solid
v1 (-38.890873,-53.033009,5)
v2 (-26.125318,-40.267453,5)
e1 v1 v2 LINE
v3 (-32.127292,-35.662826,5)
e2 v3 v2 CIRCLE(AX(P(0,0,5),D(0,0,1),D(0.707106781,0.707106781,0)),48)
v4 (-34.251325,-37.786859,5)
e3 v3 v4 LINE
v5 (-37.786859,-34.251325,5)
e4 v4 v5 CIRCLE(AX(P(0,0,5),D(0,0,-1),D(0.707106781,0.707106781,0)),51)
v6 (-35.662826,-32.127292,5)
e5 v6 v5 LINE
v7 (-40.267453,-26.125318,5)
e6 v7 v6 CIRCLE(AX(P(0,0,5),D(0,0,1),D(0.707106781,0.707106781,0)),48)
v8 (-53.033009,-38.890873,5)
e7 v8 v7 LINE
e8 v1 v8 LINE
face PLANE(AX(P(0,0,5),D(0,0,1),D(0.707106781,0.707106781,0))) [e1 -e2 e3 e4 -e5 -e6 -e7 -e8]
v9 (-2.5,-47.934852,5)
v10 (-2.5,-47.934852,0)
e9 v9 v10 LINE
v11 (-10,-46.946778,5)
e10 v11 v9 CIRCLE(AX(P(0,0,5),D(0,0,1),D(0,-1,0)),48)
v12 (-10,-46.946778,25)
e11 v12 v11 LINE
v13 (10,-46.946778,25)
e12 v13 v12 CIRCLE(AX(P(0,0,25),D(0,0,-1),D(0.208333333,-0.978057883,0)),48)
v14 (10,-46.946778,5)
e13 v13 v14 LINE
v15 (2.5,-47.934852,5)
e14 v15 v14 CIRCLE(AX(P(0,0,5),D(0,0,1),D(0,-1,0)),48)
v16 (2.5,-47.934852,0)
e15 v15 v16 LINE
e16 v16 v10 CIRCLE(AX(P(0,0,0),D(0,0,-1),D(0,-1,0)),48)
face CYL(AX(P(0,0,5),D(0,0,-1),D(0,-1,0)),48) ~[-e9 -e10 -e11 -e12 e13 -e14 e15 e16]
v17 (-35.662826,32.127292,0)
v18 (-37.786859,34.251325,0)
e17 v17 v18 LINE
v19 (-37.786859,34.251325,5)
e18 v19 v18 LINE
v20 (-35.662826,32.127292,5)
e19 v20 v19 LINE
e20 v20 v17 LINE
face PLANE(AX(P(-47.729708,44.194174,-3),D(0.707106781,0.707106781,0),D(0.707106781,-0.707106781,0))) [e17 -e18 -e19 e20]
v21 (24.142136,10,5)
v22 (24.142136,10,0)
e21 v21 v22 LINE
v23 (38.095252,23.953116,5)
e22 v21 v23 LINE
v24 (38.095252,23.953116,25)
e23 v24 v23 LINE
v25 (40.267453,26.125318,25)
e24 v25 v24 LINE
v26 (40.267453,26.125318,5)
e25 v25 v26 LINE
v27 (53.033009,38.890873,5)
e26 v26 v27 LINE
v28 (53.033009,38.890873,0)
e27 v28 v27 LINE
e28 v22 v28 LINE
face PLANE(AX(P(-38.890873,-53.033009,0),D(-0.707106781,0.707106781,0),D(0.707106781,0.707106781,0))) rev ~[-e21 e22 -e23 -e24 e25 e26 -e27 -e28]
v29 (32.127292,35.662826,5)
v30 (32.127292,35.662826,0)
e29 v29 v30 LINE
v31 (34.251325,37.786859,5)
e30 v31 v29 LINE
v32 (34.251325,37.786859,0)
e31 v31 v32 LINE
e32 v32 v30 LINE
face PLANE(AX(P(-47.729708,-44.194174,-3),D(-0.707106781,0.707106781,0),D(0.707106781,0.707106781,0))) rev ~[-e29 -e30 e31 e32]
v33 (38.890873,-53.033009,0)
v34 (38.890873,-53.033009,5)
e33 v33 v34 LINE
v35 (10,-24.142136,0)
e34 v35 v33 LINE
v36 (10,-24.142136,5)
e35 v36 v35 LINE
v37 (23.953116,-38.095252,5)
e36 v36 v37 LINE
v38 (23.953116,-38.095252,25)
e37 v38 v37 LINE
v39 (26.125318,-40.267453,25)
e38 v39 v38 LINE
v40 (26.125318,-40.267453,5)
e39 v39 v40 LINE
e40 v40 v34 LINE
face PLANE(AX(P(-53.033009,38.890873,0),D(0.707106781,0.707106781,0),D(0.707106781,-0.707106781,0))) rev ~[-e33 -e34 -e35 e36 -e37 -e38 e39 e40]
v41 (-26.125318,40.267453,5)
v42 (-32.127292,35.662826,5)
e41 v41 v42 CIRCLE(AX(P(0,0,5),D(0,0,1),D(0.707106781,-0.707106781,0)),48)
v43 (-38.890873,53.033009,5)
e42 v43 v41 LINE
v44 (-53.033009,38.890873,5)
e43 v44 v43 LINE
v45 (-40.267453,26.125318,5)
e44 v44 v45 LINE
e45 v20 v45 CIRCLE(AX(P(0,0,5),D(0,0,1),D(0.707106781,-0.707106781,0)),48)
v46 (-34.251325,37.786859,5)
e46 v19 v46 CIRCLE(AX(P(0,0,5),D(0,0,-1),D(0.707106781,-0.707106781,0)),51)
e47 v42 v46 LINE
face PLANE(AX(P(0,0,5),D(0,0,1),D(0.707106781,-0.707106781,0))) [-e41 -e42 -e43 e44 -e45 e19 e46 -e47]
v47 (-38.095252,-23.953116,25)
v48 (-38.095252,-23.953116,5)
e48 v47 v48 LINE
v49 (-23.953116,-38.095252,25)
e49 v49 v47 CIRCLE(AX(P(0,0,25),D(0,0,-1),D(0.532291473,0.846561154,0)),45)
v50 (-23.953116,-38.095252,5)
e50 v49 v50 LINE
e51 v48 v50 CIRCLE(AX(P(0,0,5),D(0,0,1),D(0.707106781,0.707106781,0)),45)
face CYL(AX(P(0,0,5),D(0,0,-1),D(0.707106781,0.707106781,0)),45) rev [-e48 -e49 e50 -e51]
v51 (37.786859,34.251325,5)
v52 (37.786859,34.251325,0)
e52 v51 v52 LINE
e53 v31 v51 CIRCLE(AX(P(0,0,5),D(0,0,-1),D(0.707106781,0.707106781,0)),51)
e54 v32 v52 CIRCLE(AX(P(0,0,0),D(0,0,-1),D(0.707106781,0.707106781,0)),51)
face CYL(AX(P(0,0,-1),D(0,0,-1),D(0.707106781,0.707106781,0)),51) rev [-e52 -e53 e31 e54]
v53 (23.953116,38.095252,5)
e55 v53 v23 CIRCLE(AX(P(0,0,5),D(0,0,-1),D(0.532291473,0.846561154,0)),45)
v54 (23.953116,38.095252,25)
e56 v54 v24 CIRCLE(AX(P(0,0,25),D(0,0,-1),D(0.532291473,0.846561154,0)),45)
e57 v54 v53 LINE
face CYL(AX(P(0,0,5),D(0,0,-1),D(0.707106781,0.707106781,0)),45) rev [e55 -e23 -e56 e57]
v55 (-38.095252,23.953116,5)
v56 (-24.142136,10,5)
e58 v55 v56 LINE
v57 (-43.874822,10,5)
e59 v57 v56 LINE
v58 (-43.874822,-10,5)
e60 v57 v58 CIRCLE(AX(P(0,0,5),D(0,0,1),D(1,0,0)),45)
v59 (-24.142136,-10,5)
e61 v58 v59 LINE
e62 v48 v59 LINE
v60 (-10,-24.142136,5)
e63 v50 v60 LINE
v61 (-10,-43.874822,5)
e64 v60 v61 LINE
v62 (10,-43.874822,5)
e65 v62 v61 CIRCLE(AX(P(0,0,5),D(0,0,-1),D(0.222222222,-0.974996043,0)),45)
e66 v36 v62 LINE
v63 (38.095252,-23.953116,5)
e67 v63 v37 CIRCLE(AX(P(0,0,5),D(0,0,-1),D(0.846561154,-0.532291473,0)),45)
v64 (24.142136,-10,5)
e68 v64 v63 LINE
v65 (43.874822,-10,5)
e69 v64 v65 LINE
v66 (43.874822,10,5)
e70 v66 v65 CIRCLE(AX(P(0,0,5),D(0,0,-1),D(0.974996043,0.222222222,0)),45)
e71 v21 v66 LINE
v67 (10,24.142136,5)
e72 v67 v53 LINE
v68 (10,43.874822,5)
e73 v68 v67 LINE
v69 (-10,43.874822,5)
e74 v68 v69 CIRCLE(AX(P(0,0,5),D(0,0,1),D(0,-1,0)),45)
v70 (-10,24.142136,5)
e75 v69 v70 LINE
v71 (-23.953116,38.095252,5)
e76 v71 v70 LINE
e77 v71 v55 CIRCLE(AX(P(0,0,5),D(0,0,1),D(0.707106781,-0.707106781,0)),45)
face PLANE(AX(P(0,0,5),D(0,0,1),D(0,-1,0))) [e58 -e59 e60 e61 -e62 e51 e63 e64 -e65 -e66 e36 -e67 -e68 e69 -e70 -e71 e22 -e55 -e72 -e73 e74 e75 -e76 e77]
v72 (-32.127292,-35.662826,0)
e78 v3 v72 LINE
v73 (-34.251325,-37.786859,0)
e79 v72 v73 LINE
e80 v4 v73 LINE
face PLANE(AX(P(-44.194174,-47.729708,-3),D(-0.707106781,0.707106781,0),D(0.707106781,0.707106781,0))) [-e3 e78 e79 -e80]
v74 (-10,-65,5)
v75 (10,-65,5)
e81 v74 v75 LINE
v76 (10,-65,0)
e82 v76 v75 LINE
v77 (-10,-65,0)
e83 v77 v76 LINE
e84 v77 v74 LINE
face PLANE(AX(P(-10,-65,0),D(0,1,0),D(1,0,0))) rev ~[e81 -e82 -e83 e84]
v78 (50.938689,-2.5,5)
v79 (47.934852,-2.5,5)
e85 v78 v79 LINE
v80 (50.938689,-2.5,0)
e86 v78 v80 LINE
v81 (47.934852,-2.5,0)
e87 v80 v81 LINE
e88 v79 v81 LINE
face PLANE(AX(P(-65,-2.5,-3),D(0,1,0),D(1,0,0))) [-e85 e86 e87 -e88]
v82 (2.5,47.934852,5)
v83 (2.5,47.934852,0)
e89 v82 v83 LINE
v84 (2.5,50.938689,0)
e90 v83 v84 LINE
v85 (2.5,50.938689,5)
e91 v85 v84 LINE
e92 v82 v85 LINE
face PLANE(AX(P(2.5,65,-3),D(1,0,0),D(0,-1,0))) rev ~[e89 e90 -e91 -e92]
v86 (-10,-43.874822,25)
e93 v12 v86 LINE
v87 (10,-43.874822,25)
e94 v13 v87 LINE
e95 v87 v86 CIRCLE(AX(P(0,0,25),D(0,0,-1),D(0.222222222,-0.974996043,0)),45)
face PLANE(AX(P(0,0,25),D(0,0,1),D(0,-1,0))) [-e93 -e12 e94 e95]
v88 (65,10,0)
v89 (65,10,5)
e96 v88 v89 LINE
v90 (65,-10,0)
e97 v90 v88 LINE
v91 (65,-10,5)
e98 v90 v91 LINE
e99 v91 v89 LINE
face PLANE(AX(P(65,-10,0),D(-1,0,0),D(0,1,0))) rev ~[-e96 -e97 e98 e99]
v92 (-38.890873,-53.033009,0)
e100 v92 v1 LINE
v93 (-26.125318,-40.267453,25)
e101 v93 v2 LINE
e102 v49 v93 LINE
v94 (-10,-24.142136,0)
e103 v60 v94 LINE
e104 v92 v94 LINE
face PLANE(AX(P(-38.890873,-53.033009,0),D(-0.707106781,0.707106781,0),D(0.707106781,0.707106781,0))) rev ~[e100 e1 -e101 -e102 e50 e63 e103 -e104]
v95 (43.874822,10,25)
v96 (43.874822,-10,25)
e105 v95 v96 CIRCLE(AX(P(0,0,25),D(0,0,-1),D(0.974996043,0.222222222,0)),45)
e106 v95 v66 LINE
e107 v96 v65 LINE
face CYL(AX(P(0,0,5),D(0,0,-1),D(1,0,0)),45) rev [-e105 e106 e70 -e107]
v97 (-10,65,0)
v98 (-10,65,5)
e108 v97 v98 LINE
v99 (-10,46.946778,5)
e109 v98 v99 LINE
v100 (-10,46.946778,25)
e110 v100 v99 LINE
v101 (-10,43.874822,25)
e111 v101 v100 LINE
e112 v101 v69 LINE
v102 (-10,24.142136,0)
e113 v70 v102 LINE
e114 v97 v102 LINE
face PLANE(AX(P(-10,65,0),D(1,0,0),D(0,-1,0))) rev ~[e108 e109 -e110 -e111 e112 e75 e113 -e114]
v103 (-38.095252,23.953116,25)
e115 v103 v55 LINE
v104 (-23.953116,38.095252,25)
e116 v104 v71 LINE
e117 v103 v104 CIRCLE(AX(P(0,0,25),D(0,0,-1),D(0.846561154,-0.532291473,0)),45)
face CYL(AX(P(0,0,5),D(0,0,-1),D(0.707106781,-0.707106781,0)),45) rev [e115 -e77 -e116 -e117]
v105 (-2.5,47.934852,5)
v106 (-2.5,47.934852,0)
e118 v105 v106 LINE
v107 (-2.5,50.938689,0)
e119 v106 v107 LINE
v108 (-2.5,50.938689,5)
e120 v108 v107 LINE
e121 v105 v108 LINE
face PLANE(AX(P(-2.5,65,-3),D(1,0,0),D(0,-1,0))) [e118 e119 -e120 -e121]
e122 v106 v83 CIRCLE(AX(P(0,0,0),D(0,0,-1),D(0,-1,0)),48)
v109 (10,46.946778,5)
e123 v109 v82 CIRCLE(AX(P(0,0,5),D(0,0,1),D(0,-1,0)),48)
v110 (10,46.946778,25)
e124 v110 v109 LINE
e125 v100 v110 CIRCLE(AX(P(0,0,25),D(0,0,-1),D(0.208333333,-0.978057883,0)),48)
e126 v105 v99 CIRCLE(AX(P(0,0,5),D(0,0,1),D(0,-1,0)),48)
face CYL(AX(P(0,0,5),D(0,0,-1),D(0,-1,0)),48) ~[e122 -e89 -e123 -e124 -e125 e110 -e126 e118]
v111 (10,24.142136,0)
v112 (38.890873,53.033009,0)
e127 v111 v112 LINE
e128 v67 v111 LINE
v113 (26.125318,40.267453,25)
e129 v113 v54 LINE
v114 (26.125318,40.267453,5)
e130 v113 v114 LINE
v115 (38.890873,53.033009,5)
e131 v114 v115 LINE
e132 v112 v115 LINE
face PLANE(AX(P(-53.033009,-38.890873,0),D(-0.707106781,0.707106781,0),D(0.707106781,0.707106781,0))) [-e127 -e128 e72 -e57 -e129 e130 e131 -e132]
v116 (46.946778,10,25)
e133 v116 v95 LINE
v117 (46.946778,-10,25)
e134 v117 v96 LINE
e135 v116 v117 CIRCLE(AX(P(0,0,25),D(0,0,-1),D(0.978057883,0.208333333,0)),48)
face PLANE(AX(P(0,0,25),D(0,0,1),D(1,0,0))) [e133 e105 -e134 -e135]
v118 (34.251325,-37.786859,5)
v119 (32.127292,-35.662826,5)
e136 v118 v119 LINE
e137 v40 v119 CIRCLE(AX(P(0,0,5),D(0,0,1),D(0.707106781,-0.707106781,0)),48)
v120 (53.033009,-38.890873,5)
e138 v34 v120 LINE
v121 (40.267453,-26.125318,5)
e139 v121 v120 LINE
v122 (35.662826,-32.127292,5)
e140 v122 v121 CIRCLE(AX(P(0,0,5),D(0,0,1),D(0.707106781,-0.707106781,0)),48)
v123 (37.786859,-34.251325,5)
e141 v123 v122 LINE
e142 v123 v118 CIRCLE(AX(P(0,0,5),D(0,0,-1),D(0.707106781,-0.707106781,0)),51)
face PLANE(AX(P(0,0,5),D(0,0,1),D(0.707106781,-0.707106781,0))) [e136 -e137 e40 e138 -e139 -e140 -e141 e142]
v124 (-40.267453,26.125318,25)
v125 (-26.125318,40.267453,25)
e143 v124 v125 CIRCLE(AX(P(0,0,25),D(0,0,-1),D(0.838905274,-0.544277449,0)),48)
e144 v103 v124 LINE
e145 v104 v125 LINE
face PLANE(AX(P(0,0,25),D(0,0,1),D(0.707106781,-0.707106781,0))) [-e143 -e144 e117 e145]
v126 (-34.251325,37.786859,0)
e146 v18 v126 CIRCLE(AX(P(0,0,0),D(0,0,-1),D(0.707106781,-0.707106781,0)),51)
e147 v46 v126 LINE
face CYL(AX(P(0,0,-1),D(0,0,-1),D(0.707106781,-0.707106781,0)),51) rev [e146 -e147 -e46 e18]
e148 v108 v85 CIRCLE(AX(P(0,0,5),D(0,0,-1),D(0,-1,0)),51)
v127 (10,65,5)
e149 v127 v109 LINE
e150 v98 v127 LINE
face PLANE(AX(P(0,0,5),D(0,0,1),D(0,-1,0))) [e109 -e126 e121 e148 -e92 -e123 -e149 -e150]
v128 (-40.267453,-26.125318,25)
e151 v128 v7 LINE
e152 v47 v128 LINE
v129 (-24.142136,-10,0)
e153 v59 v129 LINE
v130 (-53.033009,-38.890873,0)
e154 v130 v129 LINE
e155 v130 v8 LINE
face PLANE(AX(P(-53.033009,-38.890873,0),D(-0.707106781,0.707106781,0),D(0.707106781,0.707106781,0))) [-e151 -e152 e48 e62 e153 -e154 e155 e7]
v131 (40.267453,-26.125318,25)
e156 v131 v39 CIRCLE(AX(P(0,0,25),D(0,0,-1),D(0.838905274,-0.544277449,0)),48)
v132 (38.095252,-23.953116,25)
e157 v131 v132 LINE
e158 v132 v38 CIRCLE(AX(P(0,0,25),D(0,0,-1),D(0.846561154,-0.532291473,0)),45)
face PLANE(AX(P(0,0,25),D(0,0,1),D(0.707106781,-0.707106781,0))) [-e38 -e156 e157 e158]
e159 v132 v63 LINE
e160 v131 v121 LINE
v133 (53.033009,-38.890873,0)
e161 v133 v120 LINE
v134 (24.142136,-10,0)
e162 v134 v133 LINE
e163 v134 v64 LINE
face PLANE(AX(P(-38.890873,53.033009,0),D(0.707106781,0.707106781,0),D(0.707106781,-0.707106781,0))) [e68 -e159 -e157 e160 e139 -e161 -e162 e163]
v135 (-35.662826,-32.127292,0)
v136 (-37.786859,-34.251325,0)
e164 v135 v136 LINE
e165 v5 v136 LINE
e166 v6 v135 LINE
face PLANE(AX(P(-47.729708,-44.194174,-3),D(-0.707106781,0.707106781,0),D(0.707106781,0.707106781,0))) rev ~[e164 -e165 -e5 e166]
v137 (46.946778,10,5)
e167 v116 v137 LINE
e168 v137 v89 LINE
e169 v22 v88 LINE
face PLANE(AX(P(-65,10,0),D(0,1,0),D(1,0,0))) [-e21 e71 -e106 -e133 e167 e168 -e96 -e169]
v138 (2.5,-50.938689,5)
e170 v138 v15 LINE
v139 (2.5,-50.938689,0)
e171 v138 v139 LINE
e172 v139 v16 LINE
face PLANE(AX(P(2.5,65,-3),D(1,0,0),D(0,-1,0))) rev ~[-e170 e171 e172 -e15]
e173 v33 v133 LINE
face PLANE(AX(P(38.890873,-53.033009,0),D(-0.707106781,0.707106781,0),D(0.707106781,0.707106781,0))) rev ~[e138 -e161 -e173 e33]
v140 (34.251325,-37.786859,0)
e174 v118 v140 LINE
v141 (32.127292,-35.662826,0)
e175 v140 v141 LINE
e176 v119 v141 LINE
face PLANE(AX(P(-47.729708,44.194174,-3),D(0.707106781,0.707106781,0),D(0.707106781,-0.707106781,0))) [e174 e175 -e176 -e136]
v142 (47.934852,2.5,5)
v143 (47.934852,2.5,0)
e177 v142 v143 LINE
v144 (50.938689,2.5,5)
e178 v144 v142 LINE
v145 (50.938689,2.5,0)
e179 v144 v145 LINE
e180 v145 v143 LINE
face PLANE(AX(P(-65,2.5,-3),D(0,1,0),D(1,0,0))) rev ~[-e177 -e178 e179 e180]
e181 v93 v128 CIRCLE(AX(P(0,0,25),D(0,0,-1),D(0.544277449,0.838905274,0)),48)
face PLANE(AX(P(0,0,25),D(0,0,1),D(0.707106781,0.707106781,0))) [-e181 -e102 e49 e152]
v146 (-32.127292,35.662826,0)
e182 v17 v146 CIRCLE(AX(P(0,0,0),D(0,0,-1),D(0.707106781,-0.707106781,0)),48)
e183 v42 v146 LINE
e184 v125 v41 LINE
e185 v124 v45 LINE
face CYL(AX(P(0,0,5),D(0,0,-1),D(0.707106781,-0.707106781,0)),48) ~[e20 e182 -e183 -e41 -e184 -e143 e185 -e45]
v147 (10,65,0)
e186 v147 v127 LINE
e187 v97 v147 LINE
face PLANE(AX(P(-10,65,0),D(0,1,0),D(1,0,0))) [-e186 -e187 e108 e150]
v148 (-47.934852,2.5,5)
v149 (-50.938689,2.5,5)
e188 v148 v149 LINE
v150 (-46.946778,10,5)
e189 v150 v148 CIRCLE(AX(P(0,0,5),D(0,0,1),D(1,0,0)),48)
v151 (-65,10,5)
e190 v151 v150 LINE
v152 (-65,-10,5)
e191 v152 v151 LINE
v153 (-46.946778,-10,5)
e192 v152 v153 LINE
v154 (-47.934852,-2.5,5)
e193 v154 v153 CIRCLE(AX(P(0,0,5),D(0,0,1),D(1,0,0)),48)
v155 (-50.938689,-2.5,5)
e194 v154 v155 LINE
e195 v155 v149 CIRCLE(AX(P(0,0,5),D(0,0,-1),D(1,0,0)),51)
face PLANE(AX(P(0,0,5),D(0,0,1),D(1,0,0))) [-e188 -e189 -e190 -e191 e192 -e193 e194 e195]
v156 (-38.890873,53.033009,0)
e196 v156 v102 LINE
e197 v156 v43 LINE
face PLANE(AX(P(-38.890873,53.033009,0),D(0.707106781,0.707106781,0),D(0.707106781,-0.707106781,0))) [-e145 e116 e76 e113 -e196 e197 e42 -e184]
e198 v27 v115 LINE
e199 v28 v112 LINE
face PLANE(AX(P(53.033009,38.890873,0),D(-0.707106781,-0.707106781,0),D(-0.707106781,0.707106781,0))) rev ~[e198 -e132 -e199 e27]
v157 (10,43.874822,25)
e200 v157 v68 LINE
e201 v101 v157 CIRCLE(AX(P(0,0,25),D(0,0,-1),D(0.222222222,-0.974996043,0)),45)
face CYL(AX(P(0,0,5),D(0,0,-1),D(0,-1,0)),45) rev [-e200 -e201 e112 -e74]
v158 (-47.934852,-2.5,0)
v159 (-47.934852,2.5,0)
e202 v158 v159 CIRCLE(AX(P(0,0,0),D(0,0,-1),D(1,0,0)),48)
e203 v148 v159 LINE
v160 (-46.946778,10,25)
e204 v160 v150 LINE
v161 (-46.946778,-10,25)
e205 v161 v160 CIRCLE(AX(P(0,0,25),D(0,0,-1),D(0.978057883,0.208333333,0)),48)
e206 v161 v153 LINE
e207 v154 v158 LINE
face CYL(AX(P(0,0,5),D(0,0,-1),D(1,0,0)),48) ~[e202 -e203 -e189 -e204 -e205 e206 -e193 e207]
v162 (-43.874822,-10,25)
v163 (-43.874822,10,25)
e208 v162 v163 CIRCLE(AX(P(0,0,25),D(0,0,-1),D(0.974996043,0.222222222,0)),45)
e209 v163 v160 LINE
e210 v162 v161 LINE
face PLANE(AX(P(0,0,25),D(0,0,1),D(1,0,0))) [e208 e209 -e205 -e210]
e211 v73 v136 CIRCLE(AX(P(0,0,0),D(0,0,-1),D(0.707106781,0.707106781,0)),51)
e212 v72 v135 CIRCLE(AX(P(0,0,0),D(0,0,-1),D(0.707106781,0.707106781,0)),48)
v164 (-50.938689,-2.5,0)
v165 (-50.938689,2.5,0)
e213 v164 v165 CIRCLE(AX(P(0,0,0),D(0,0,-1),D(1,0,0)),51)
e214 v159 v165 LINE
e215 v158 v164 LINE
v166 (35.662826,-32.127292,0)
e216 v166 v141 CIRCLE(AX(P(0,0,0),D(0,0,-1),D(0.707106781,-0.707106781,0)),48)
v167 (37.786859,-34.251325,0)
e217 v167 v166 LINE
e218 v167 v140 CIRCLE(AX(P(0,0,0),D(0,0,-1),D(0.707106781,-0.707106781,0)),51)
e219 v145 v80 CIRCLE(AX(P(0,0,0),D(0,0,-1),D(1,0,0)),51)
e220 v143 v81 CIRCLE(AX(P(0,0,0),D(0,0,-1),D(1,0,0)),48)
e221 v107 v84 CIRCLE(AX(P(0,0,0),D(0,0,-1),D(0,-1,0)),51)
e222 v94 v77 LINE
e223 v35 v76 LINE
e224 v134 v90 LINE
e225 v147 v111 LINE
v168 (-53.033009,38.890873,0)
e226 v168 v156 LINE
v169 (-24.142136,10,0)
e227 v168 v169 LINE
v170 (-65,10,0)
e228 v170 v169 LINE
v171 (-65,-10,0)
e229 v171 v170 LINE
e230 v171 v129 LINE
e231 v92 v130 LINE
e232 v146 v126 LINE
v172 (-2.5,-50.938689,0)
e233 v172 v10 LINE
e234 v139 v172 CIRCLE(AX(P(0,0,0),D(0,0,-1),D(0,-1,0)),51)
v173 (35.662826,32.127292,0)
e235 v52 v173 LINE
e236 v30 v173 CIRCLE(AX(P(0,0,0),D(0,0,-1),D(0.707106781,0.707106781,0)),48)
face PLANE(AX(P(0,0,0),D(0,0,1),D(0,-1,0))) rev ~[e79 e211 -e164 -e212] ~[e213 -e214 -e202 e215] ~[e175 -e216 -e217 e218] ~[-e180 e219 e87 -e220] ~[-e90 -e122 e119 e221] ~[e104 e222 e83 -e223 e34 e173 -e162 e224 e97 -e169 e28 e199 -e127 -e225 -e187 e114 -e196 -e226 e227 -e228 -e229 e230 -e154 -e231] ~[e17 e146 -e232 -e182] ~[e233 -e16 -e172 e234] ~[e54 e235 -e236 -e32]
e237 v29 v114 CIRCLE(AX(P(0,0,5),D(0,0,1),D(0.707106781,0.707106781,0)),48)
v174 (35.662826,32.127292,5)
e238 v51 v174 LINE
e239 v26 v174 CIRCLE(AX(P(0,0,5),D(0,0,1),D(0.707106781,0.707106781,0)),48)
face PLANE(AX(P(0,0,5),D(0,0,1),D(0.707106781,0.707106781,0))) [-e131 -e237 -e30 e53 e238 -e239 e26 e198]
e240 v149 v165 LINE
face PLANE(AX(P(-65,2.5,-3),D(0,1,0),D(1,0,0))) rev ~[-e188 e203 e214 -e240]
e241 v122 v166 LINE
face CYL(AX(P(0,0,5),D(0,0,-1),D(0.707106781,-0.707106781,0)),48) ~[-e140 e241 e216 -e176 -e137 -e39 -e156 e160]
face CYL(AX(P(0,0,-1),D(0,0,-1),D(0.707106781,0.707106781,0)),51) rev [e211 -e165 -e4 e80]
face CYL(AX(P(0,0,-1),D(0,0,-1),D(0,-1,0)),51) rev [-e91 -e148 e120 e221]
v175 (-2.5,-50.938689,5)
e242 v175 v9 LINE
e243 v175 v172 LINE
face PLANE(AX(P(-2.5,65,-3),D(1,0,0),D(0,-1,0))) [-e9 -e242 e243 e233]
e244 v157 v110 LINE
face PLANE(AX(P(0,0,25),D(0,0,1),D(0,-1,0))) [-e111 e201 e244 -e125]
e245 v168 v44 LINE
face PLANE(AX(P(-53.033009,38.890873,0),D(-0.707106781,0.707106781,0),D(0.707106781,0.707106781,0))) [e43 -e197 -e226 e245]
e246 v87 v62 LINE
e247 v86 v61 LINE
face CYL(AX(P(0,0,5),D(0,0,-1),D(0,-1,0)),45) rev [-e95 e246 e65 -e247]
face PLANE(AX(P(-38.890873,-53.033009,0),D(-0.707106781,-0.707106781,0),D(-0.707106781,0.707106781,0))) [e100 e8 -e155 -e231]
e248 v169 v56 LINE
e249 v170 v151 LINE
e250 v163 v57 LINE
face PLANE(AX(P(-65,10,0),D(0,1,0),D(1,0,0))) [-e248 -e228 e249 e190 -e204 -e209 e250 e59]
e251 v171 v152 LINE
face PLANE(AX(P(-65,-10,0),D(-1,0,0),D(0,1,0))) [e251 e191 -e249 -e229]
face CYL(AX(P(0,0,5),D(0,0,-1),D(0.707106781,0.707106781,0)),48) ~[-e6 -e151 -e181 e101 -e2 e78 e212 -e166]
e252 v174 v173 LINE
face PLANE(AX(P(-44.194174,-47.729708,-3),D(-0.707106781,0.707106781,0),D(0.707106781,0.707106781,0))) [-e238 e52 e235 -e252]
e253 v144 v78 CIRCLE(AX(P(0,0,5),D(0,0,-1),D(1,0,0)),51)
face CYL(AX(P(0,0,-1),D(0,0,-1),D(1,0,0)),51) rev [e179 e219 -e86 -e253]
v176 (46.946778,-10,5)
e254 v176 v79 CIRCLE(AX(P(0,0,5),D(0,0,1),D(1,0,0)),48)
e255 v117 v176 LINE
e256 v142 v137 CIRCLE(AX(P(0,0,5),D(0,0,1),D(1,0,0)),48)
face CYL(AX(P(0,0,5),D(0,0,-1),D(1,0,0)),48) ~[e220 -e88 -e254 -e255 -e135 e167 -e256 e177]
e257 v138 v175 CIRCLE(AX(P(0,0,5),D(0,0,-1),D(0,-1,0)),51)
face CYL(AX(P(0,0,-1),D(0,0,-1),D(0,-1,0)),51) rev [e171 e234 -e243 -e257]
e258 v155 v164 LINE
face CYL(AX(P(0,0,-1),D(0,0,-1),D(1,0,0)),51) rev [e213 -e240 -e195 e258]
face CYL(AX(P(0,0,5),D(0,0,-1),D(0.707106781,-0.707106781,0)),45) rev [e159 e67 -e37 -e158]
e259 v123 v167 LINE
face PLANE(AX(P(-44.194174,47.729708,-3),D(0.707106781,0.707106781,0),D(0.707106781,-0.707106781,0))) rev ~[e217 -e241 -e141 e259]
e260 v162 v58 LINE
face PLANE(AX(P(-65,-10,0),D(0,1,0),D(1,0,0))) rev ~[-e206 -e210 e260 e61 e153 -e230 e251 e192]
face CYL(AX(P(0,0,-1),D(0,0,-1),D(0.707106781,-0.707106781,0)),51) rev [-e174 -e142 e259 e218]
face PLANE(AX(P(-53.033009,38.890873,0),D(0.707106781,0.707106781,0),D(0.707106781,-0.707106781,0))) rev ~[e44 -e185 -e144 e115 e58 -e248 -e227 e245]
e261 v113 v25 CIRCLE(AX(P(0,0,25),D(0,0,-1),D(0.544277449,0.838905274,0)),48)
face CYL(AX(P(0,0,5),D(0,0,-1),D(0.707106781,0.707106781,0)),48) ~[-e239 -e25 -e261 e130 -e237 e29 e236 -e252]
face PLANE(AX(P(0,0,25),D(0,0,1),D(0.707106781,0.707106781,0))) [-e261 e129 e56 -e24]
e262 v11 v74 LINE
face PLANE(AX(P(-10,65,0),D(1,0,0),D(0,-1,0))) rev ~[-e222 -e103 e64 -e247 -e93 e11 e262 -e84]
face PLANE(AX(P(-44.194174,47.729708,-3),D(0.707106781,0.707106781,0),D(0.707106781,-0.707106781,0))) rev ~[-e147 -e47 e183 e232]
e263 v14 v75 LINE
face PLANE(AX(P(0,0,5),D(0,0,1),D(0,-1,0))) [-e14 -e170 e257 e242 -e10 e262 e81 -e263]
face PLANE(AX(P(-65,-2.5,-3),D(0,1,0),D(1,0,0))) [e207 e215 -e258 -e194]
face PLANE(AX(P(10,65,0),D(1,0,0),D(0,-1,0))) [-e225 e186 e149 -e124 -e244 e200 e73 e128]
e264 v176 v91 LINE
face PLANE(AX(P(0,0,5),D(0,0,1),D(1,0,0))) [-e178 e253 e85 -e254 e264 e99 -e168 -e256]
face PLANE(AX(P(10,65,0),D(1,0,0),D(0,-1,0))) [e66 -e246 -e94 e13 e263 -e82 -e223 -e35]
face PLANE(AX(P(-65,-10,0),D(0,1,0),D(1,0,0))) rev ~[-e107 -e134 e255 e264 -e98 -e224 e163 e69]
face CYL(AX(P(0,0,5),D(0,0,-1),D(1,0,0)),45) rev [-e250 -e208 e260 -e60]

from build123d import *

# Parameters (mm, degrees)
BOX037_W                  = 130
BOX037_H                  = 50
BOX037_DEPTH              = 30
BOX035_W                  = 130
BOX035_H                  = 50
BOX035_DEPTH              = 30
CYLINDER078_R             = 45
CYLINDER078_DEPTH         = 20
CYLINDER077_R             = 48
CYLINDER077_DEPTH         = 20
BOX036_W                  = 130
BOX036_H                  = 60
BOX036_DEPTH              = 20
BOX038_W                  = 130
BOX038_H                  = 60
BOX038_DEPTH              = 20
CYLINDER076_R             = 48
CYLINDER076_DEPTH         = 10
CYLINDER075_R             = 51
CYLINDER075_DEPTH         = 10
BOX034_W                  = 130
BOX034_H                  = 20
BOX034_DEPTH              = 5
CUT049_PLACEMENT_ANGLE    = 270
BOX033_W                  = 130
BOX033_H                  = 50
BOX033_DEPTH              = 30
BOX032_W                  = 130
BOX032_H                  = 50
BOX032_DEPTH              = 30
CYLINDER072_R             = 45
CYLINDER072_DEPTH         = 20
CYLINDER071_R             = 48
CYLINDER071_DEPTH         = 20
BOX031_W                  = 130
BOX031_H                  = 60
BOX031_DEPTH              = 20
BOX030_W                  = 130
BOX030_H                  = 60
BOX030_DEPTH              = 20
CYLINDER073_R             = 48
CYLINDER073_DEPTH         = 10
CYLINDER074_R             = 51
CYLINDER074_DEPTH         = 10
BOX_W                     = 130
BOX_H                     = 20
BOX_DEPTH                 = 5
BOX039_W                  = 130
BOX039_H                  = 50
BOX039_DEPTH              = 30
BOX046_W                  = 130
BOX046_H                  = 50
BOX046_DEPTH              = 30
CYLINDER083_R             = 45
CYLINDER083_DEPTH         = 20
CYLINDER081_R             = 48
CYLINDER081_DEPTH         = 20
BOX042_W                  = 130
BOX042_H                  = 60
BOX042_DEPTH              = 20
BOX048_W                  = 130
BOX048_H                  = 60
BOX048_DEPTH              = 20
CYLINDER080_R             = 48
CYLINDER080_DEPTH         = 10
CYLINDER082_R             = 51
CYLINDER082_DEPTH         = 10
BOX045_W                  = 130
BOX045_H                  = 20
BOX045_DEPTH              = 5
CUT056_PLACEMENT_ANGLE    = 90
BOX044_W                  = 130
BOX044_H                  = 50
BOX044_DEPTH              = 30
BOX041_W                  = 130
BOX041_H                  = 50
BOX041_DEPTH              = 30
CYLINDER086_R             = 45
CYLINDER086_DEPTH         = 20
CYLINDER085_R             = 48
CYLINDER085_DEPTH         = 20
BOX043_W                  = 130
BOX043_H                  = 60
BOX043_DEPTH              = 20
BOX047_W                  = 130
BOX047_H                  = 60
BOX047_DEPTH              = 20
CYLINDER084_R             = 48
CYLINDER084_DEPTH         = 10
CYLINDER079_R             = 51
CYLINDER079_DEPTH         = 10
BOX040_W                  = 130
BOX040_H                  = 20
BOX040_DEPTH              = 5
FUSION030_PLACEMENT_ANGLE = 45


with BuildPart() as cube037:
    # Box037 → Box037 (new body)
    with BuildSketch(Plane(origin=(-65, -60, 0), x_dir=(1, 0, 0), z_dir=(0, 0, 1))):
        with Locations((65, 25)):
            Rectangle(BOX037_W, BOX037_H)
    extrude(amount=BOX037_DEPTH)


with BuildPart() as cube035:
    # Box035 → Box035 (new body)
    with BuildSketch(Plane(origin=(-65, 10, 0), x_dir=(1, 0, 0), z_dir=(0, 0, 1))):
        with Locations((65, 25)):
            Rectangle(BOX035_W, BOX035_H)
    extrude(amount=BOX035_DEPTH)


with BuildPart() as cylinder078:
    # Cylinder078 → Cylinder078 (new body)
    with BuildSketch(Plane.XY):
        Circle(CYLINDER078_R)
    extrude(amount=CYLINDER078_DEPTH)


with BuildPart() as cut044:
    # Cylinder077 → Cylinder077 (new body)
    with BuildSketch(Plane.XY):
        Circle(CYLINDER077_R)
    extrude(amount=CYLINDER077_DEPTH)

    # Cut044: cut Cylinder078
    add(cylinder078.part, mode=Mode.SUBTRACT)


with BuildPart() as cut044_1:
    # Cut044 placement: moved
    add(cut044.part.moved(Location((0, 0, 5))))


with BuildPart() as cube036:
    # Box036 → Box036 (new body)
    with BuildSketch(Plane(origin=(-65, -62.5, -108), x_dir=(1, 0, 0), z_dir=(0, 0, 1))):
        with Locations((65, 30)):
            Rectangle(BOX036_W, BOX036_H)
    extrude(amount=BOX036_DEPTH)


with BuildPart() as cube038:
    # Box038 → Box038 (new body)
    with BuildSketch(Plane(origin=(-65, 2.5, -108), x_dir=(1, 0, 0), z_dir=(0, 0, 1))):
        with Locations((65, 30)):
            Rectangle(BOX038_W, BOX038_H)
    extrude(amount=BOX038_DEPTH)


with BuildPart() as cylinder076:
    # Cylinder076 → Cylinder076 (new body)
    with BuildSketch(Plane.XY):
        Circle(CYLINDER076_R)
    extrude(amount=CYLINDER076_DEPTH)


with BuildPart() as cut046:
    # Cylinder075 → Cylinder075 (new body)
    with BuildSketch(Plane.XY):
        Circle(CYLINDER075_R)
    extrude(amount=CYLINDER075_DEPTH)

    # Cut048: cut Cylinder076
    add(cylinder076.part, mode=Mode.SUBTRACT)


with BuildPart() as cut046_1:
    # Cut048 placement: moved
    add(cut046.part.moved(Location((0, 0, -106))))

    # Cut045: cut Cube038
    add(cube038.part, mode=Mode.SUBTRACT)

    # Cut046: cut Cube036
    add(cube036.part, mode=Mode.SUBTRACT)


with BuildPart() as cut046_2:
    # Cut046 placement: moved
    add(cut046_1.part.moved(Location((0, 0, 105))))


with BuildPart() as cut049:
    # Box034 → Box034 (new body)
    with BuildSketch(Plane(origin=(-65, -10, 0), x_dir=(1, 0, 0), z_dir=(0, 0, 1))):
        with Locations((65, 10)):
            Rectangle(BOX034_W, BOX034_H)
    extrude(amount=BOX034_DEPTH)

    # Cut047: cut Cut046
    add(cut046_2.part, mode=Mode.SUBTRACT)

    # Fusion026: union Cut044
    add(cut044_1.part)

    # Cut050: cut Cube035
    add(cube035.part, mode=Mode.SUBTRACT)

    # Cut049: cut Cube037
    add(cube037.part, mode=Mode.SUBTRACT)


with BuildPart() as cut049_1:
    # Cut049 placement: moved
    add(cut049.part.rotate(Axis((0, 0, 0), (0, 0, 1)), CUT049_PLACEMENT_ANGLE))


with BuildPart() as cube033:
    # Box033 → Box033 (new body)
    with BuildSketch(Plane(origin=(-65, -60, 0), x_dir=(1, 0, 0), z_dir=(0, 0, 1))):
        with Locations((65, 25)):
            Rectangle(BOX033_W, BOX033_H)
    extrude(amount=BOX033_DEPTH)


with BuildPart() as cube032:
    # Box032 → Box032 (new body)
    with BuildSketch(Plane(origin=(-65, 10, 0), x_dir=(1, 0, 0), z_dir=(0, 0, 1))):
        with Locations((65, 25)):
            Rectangle(BOX032_W, BOX032_H)
    extrude(amount=BOX032_DEPTH)


with BuildPart() as cylinder072:
    # Cylinder072 → Cylinder072 (new body)
    with BuildSketch(Plane.XY):
        Circle(CYLINDER072_R)
    extrude(amount=CYLINDER072_DEPTH)


with BuildPart() as cut037:
    # Cylinder071 → Cylinder071 (new body)
    with BuildSketch(Plane.XY):
        Circle(CYLINDER071_R)
    extrude(amount=CYLINDER071_DEPTH)

    # Cut037: cut Cylinder072
    add(cylinder072.part, mode=Mode.SUBTRACT)


with BuildPart() as cut037_1:
    # Cut037 placement: moved
    add(cut037.part.moved(Location((0, 0, 5))))


with BuildPart() as cube031:
    # Box031 → Box031 (new body)
    with BuildSketch(Plane(origin=(-65, -62.5, -108), x_dir=(1, 0, 0), z_dir=(0, 0, 1))):
        with Locations((65, 30)):
            Rectangle(BOX031_W, BOX031_H)
    extrude(amount=BOX031_DEPTH)


with BuildPart() as cube030:
    # Box030 → Box030 (new body)
    with BuildSketch(Plane(origin=(-65, 2.5, -108), x_dir=(1, 0, 0), z_dir=(0, 0, 1))):
        with Locations((65, 30)):
            Rectangle(BOX030_W, BOX030_H)
    extrude(amount=BOX030_DEPTH)


with BuildPart() as cylinder073:
    # Cylinder073 → Cylinder073 (new body)
    with BuildSketch(Plane.XY):
        Circle(CYLINDER073_R)
    extrude(amount=CYLINDER073_DEPTH)


with BuildPart() as cut040:
    # Cylinder074 → Cylinder074 (new body)
    with BuildSketch(Plane.XY):
        Circle(CYLINDER074_R)
    extrude(amount=CYLINDER074_DEPTH)

    # Cut038: cut Cylinder073
    add(cylinder073.part, mode=Mode.SUBTRACT)


with BuildPart() as cut040_1:
    # Cut038 placement: moved
    add(cut040.part.moved(Location((0, 0, -106))))

    # Cut039: cut Cube030
    add(cube030.part, mode=Mode.SUBTRACT)

    # Cut040: cut Cube031
    add(cube031.part, mode=Mode.SUBTRACT)


with BuildPart() as cut040_2:
    # Cut040 placement: moved
    add(cut040_1.part.moved(Location((0, 0, 105))))


with BuildPart() as fusion027:
    # Box → Box (new body)
    with BuildSketch(Plane(origin=(-65, -10, 0), x_dir=(1, 0, 0), z_dir=(0, 0, 1))):
        with Locations((65, 10)):
            Rectangle(BOX_W, BOX_H)
    extrude(amount=BOX_DEPTH)

    # Cut041: cut Cut040
    add(cut040_2.part, mode=Mode.SUBTRACT)

    # Fusion025: union Cut037
    add(cut037_1.part)

    # Cut042: cut Cube032
    add(cube032.part, mode=Mode.SUBTRACT)

    # Cut043: cut Cube033
    add(cube033.part, mode=Mode.SUBTRACT)

    # Fusion027: union Cut049
    add(cut049_1.part)


with BuildPart() as cube039:
    # Box039 → Box039 (new body)
    with BuildSketch(Plane(origin=(-65, -60, 0), x_dir=(1, 0, 0), z_dir=(0, 0, 1))):
        with Locations((65, 25)):
            Rectangle(BOX039_W, BOX039_H)
    extrude(amount=BOX039_DEPTH)


with BuildPart() as cube046:
    # Box046 → Box046 (new body)
    with BuildSketch(Plane(origin=(-65, 10, 0), x_dir=(1, 0, 0), z_dir=(0, 0, 1))):
        with Locations((65, 25)):
            Rectangle(BOX046_W, BOX046_H)
    extrude(amount=BOX046_DEPTH)


with BuildPart() as cylinder083:
    # Cylinder083 → Cylinder083 (new body)
    with BuildSketch(Plane.XY):
        Circle(CYLINDER083_R)
    extrude(amount=CYLINDER083_DEPTH)


with BuildPart() as cut051:
    # Cylinder081 → Cylinder081 (new body)
    with BuildSketch(Plane.XY):
        Circle(CYLINDER081_R)
    extrude(amount=CYLINDER081_DEPTH)

    # Cut051: cut Cylinder083
    add(cylinder083.part, mode=Mode.SUBTRACT)


with BuildPart() as cut051_1:
    # Cut051 placement: moved
    add(cut051.part.moved(Location((0, 0, 5))))


with BuildPart() as cube042:
    # Box042 → Box042 (new body)
    with BuildSketch(Plane(origin=(-65, -62.5, -108), x_dir=(1, 0, 0), z_dir=(0, 0, 1))):
        with Locations((65, 30)):
            Rectangle(BOX042_W, BOX042_H)
    extrude(amount=BOX042_DEPTH)


with BuildPart() as cube048:
    # Box048 → Box048 (new body)
    with BuildSketch(Plane(origin=(-65, 2.5, -108), x_dir=(1, 0, 0), z_dir=(0, 0, 1))):
        with Locations((65, 30)):
            Rectangle(BOX048_W, BOX048_H)
    extrude(amount=BOX048_DEPTH)


with BuildPart() as cylinder080:
    # Cylinder080 → Cylinder080 (new body)
    with BuildSketch(Plane.XY):
        Circle(CYLINDER080_R)
    extrude(amount=CYLINDER080_DEPTH)


with BuildPart() as cut052:
    # Cylinder082 → Cylinder082 (new body)
    with BuildSketch(Plane.XY):
        Circle(CYLINDER082_R)
    extrude(amount=CYLINDER082_DEPTH)

    # Cut055: cut Cylinder080
    add(cylinder080.part, mode=Mode.SUBTRACT)


with BuildPart() as cut052_1:
    # Cut055 placement: moved
    add(cut052.part.moved(Location((0, 0, -106))))

    # Cut053: cut Cube048
    add(cube048.part, mode=Mode.SUBTRACT)

    # Cut052: cut Cube042
    add(cube042.part, mode=Mode.SUBTRACT)


with BuildPart() as cut052_2:
    # Cut052 placement: moved
    add(cut052_1.part.moved(Location((0, 0, 105))))


with BuildPart() as cut056:
    # Box045 → Box045 (new body)
    with BuildSketch(Plane(origin=(-65, -10, 0), x_dir=(1, 0, 0), z_dir=(0, 0, 1))):
        with Locations((65, 10)):
            Rectangle(BOX045_W, BOX045_H)
    extrude(amount=BOX045_DEPTH)

    # Cut054: cut Cut052
    add(cut052_2.part, mode=Mode.SUBTRACT)

    # Fusion029: union Cut051
    add(cut051_1.part)

    # Cut057: cut Cube046
    add(cube046.part, mode=Mode.SUBTRACT)

    # Cut056: cut Cube039
    add(cube039.part, mode=Mode.SUBTRACT)


with BuildPart() as cut056_1:
    # Cut056 placement: moved
    add(cut056.part.rotate(Axis((0, 0, 0), (0, 0, -1)), CUT056_PLACEMENT_ANGLE))


with BuildPart() as cube044:
    # Box044 → Box044 (new body)
    with BuildSketch(Plane(origin=(-65, -60, 0), x_dir=(1, 0, 0), z_dir=(0, 0, 1))):
        with Locations((65, 25)):
            Rectangle(BOX044_W, BOX044_H)
    extrude(amount=BOX044_DEPTH)


with BuildPart() as cube041:
    # Box041 → Box041 (new body)
    with BuildSketch(Plane(origin=(-65, 10, 0), x_dir=(1, 0, 0), z_dir=(0, 0, 1))):
        with Locations((65, 25)):
            Rectangle(BOX041_W, BOX041_H)
    extrude(amount=BOX041_DEPTH)


with BuildPart() as cylinder086:
    # Cylinder086 → Cylinder086 (new body)
    with BuildSketch(Plane.XY):
        Circle(CYLINDER086_R)
    extrude(amount=CYLINDER086_DEPTH)


with BuildPart() as cut058:
    # Cylinder085 → Cylinder085 (new body)
    with BuildSketch(Plane.XY):
        Circle(CYLINDER085_R)
    extrude(amount=CYLINDER085_DEPTH)

    # Cut058: cut Cylinder086
    add(cylinder086.part, mode=Mode.SUBTRACT)


with BuildPart() as cut058_1:
    # Cut058 placement: moved
    add(cut058.part.moved(Location((0, 0, 5))))


with BuildPart() as cube043:
    # Box043 → Box043 (new body)
    with BuildSketch(Plane(origin=(-65, -62.5, -108), x_dir=(1, 0, 0), z_dir=(0, 0, 1))):
        with Locations((65, 30)):
            Rectangle(BOX043_W, BOX043_H)
    extrude(amount=BOX043_DEPTH)


with BuildPart() as cube047:
    # Box047 → Box047 (new body)
    with BuildSketch(Plane(origin=(-65, 2.5, -108), x_dir=(1, 0, 0), z_dir=(0, 0, 1))):
        with Locations((65, 30)):
            Rectangle(BOX047_W, BOX047_H)
    extrude(amount=BOX047_DEPTH)


with BuildPart() as cylinder084:
    # Cylinder084 → Cylinder084 (new body)
    with BuildSketch(Plane.XY):
        Circle(CYLINDER084_R)
    extrude(amount=CYLINDER084_DEPTH)


with BuildPart() as cut060:
    # Cylinder079 → Cylinder079 (new body)
    with BuildSketch(Plane.XY):
        Circle(CYLINDER079_R)
    extrude(amount=CYLINDER079_DEPTH)

    # Cut062: cut Cylinder084
    add(cylinder084.part, mode=Mode.SUBTRACT)


with BuildPart() as cut060_1:
    # Cut062 placement: moved
    add(cut060.part.moved(Location((0, 0, -106))))

    # Cut059: cut Cube047
    add(cube047.part, mode=Mode.SUBTRACT)

    # Cut060: cut Cube043
    add(cube043.part, mode=Mode.SUBTRACT)


with BuildPart() as cut060_2:
    # Cut060 placement: moved
    add(cut060_1.part.moved(Location((0, 0, 105))))


with BuildPart() as medidor:
    # Box040 → Box040 (new body)
    with BuildSketch(Plane(origin=(-65, -10, 0), x_dir=(1, 0, 0), z_dir=(0, 0, 1))):
        with Locations((65, 10)):
            Rectangle(BOX040_W, BOX040_H)
    extrude(amount=BOX040_DEPTH)

    # Cut061: cut Cut060
    add(cut060_2.part, mode=Mode.SUBTRACT)

    # Fusion028: union Cut058
    add(cut058_1.part)

    # Cut064: cut Cube041
    add(cube041.part, mode=Mode.SUBTRACT)

    # Cut063: cut Cube044
    add(cube044.part, mode=Mode.SUBTRACT)

    # Fusion030: union Cut056
    add(cut056_1.part)


with BuildPart() as medidor_1:
    # Fusion030 placement: moved
    add(medidor.part.rotate(Axis((0, 0, 0), (0, 0, 1)), FUSION030_PLACEMENT_ANGLE))

    # Fusion031: union Fusion027
    add(fusion027.part)


solid = medidor_1.part
